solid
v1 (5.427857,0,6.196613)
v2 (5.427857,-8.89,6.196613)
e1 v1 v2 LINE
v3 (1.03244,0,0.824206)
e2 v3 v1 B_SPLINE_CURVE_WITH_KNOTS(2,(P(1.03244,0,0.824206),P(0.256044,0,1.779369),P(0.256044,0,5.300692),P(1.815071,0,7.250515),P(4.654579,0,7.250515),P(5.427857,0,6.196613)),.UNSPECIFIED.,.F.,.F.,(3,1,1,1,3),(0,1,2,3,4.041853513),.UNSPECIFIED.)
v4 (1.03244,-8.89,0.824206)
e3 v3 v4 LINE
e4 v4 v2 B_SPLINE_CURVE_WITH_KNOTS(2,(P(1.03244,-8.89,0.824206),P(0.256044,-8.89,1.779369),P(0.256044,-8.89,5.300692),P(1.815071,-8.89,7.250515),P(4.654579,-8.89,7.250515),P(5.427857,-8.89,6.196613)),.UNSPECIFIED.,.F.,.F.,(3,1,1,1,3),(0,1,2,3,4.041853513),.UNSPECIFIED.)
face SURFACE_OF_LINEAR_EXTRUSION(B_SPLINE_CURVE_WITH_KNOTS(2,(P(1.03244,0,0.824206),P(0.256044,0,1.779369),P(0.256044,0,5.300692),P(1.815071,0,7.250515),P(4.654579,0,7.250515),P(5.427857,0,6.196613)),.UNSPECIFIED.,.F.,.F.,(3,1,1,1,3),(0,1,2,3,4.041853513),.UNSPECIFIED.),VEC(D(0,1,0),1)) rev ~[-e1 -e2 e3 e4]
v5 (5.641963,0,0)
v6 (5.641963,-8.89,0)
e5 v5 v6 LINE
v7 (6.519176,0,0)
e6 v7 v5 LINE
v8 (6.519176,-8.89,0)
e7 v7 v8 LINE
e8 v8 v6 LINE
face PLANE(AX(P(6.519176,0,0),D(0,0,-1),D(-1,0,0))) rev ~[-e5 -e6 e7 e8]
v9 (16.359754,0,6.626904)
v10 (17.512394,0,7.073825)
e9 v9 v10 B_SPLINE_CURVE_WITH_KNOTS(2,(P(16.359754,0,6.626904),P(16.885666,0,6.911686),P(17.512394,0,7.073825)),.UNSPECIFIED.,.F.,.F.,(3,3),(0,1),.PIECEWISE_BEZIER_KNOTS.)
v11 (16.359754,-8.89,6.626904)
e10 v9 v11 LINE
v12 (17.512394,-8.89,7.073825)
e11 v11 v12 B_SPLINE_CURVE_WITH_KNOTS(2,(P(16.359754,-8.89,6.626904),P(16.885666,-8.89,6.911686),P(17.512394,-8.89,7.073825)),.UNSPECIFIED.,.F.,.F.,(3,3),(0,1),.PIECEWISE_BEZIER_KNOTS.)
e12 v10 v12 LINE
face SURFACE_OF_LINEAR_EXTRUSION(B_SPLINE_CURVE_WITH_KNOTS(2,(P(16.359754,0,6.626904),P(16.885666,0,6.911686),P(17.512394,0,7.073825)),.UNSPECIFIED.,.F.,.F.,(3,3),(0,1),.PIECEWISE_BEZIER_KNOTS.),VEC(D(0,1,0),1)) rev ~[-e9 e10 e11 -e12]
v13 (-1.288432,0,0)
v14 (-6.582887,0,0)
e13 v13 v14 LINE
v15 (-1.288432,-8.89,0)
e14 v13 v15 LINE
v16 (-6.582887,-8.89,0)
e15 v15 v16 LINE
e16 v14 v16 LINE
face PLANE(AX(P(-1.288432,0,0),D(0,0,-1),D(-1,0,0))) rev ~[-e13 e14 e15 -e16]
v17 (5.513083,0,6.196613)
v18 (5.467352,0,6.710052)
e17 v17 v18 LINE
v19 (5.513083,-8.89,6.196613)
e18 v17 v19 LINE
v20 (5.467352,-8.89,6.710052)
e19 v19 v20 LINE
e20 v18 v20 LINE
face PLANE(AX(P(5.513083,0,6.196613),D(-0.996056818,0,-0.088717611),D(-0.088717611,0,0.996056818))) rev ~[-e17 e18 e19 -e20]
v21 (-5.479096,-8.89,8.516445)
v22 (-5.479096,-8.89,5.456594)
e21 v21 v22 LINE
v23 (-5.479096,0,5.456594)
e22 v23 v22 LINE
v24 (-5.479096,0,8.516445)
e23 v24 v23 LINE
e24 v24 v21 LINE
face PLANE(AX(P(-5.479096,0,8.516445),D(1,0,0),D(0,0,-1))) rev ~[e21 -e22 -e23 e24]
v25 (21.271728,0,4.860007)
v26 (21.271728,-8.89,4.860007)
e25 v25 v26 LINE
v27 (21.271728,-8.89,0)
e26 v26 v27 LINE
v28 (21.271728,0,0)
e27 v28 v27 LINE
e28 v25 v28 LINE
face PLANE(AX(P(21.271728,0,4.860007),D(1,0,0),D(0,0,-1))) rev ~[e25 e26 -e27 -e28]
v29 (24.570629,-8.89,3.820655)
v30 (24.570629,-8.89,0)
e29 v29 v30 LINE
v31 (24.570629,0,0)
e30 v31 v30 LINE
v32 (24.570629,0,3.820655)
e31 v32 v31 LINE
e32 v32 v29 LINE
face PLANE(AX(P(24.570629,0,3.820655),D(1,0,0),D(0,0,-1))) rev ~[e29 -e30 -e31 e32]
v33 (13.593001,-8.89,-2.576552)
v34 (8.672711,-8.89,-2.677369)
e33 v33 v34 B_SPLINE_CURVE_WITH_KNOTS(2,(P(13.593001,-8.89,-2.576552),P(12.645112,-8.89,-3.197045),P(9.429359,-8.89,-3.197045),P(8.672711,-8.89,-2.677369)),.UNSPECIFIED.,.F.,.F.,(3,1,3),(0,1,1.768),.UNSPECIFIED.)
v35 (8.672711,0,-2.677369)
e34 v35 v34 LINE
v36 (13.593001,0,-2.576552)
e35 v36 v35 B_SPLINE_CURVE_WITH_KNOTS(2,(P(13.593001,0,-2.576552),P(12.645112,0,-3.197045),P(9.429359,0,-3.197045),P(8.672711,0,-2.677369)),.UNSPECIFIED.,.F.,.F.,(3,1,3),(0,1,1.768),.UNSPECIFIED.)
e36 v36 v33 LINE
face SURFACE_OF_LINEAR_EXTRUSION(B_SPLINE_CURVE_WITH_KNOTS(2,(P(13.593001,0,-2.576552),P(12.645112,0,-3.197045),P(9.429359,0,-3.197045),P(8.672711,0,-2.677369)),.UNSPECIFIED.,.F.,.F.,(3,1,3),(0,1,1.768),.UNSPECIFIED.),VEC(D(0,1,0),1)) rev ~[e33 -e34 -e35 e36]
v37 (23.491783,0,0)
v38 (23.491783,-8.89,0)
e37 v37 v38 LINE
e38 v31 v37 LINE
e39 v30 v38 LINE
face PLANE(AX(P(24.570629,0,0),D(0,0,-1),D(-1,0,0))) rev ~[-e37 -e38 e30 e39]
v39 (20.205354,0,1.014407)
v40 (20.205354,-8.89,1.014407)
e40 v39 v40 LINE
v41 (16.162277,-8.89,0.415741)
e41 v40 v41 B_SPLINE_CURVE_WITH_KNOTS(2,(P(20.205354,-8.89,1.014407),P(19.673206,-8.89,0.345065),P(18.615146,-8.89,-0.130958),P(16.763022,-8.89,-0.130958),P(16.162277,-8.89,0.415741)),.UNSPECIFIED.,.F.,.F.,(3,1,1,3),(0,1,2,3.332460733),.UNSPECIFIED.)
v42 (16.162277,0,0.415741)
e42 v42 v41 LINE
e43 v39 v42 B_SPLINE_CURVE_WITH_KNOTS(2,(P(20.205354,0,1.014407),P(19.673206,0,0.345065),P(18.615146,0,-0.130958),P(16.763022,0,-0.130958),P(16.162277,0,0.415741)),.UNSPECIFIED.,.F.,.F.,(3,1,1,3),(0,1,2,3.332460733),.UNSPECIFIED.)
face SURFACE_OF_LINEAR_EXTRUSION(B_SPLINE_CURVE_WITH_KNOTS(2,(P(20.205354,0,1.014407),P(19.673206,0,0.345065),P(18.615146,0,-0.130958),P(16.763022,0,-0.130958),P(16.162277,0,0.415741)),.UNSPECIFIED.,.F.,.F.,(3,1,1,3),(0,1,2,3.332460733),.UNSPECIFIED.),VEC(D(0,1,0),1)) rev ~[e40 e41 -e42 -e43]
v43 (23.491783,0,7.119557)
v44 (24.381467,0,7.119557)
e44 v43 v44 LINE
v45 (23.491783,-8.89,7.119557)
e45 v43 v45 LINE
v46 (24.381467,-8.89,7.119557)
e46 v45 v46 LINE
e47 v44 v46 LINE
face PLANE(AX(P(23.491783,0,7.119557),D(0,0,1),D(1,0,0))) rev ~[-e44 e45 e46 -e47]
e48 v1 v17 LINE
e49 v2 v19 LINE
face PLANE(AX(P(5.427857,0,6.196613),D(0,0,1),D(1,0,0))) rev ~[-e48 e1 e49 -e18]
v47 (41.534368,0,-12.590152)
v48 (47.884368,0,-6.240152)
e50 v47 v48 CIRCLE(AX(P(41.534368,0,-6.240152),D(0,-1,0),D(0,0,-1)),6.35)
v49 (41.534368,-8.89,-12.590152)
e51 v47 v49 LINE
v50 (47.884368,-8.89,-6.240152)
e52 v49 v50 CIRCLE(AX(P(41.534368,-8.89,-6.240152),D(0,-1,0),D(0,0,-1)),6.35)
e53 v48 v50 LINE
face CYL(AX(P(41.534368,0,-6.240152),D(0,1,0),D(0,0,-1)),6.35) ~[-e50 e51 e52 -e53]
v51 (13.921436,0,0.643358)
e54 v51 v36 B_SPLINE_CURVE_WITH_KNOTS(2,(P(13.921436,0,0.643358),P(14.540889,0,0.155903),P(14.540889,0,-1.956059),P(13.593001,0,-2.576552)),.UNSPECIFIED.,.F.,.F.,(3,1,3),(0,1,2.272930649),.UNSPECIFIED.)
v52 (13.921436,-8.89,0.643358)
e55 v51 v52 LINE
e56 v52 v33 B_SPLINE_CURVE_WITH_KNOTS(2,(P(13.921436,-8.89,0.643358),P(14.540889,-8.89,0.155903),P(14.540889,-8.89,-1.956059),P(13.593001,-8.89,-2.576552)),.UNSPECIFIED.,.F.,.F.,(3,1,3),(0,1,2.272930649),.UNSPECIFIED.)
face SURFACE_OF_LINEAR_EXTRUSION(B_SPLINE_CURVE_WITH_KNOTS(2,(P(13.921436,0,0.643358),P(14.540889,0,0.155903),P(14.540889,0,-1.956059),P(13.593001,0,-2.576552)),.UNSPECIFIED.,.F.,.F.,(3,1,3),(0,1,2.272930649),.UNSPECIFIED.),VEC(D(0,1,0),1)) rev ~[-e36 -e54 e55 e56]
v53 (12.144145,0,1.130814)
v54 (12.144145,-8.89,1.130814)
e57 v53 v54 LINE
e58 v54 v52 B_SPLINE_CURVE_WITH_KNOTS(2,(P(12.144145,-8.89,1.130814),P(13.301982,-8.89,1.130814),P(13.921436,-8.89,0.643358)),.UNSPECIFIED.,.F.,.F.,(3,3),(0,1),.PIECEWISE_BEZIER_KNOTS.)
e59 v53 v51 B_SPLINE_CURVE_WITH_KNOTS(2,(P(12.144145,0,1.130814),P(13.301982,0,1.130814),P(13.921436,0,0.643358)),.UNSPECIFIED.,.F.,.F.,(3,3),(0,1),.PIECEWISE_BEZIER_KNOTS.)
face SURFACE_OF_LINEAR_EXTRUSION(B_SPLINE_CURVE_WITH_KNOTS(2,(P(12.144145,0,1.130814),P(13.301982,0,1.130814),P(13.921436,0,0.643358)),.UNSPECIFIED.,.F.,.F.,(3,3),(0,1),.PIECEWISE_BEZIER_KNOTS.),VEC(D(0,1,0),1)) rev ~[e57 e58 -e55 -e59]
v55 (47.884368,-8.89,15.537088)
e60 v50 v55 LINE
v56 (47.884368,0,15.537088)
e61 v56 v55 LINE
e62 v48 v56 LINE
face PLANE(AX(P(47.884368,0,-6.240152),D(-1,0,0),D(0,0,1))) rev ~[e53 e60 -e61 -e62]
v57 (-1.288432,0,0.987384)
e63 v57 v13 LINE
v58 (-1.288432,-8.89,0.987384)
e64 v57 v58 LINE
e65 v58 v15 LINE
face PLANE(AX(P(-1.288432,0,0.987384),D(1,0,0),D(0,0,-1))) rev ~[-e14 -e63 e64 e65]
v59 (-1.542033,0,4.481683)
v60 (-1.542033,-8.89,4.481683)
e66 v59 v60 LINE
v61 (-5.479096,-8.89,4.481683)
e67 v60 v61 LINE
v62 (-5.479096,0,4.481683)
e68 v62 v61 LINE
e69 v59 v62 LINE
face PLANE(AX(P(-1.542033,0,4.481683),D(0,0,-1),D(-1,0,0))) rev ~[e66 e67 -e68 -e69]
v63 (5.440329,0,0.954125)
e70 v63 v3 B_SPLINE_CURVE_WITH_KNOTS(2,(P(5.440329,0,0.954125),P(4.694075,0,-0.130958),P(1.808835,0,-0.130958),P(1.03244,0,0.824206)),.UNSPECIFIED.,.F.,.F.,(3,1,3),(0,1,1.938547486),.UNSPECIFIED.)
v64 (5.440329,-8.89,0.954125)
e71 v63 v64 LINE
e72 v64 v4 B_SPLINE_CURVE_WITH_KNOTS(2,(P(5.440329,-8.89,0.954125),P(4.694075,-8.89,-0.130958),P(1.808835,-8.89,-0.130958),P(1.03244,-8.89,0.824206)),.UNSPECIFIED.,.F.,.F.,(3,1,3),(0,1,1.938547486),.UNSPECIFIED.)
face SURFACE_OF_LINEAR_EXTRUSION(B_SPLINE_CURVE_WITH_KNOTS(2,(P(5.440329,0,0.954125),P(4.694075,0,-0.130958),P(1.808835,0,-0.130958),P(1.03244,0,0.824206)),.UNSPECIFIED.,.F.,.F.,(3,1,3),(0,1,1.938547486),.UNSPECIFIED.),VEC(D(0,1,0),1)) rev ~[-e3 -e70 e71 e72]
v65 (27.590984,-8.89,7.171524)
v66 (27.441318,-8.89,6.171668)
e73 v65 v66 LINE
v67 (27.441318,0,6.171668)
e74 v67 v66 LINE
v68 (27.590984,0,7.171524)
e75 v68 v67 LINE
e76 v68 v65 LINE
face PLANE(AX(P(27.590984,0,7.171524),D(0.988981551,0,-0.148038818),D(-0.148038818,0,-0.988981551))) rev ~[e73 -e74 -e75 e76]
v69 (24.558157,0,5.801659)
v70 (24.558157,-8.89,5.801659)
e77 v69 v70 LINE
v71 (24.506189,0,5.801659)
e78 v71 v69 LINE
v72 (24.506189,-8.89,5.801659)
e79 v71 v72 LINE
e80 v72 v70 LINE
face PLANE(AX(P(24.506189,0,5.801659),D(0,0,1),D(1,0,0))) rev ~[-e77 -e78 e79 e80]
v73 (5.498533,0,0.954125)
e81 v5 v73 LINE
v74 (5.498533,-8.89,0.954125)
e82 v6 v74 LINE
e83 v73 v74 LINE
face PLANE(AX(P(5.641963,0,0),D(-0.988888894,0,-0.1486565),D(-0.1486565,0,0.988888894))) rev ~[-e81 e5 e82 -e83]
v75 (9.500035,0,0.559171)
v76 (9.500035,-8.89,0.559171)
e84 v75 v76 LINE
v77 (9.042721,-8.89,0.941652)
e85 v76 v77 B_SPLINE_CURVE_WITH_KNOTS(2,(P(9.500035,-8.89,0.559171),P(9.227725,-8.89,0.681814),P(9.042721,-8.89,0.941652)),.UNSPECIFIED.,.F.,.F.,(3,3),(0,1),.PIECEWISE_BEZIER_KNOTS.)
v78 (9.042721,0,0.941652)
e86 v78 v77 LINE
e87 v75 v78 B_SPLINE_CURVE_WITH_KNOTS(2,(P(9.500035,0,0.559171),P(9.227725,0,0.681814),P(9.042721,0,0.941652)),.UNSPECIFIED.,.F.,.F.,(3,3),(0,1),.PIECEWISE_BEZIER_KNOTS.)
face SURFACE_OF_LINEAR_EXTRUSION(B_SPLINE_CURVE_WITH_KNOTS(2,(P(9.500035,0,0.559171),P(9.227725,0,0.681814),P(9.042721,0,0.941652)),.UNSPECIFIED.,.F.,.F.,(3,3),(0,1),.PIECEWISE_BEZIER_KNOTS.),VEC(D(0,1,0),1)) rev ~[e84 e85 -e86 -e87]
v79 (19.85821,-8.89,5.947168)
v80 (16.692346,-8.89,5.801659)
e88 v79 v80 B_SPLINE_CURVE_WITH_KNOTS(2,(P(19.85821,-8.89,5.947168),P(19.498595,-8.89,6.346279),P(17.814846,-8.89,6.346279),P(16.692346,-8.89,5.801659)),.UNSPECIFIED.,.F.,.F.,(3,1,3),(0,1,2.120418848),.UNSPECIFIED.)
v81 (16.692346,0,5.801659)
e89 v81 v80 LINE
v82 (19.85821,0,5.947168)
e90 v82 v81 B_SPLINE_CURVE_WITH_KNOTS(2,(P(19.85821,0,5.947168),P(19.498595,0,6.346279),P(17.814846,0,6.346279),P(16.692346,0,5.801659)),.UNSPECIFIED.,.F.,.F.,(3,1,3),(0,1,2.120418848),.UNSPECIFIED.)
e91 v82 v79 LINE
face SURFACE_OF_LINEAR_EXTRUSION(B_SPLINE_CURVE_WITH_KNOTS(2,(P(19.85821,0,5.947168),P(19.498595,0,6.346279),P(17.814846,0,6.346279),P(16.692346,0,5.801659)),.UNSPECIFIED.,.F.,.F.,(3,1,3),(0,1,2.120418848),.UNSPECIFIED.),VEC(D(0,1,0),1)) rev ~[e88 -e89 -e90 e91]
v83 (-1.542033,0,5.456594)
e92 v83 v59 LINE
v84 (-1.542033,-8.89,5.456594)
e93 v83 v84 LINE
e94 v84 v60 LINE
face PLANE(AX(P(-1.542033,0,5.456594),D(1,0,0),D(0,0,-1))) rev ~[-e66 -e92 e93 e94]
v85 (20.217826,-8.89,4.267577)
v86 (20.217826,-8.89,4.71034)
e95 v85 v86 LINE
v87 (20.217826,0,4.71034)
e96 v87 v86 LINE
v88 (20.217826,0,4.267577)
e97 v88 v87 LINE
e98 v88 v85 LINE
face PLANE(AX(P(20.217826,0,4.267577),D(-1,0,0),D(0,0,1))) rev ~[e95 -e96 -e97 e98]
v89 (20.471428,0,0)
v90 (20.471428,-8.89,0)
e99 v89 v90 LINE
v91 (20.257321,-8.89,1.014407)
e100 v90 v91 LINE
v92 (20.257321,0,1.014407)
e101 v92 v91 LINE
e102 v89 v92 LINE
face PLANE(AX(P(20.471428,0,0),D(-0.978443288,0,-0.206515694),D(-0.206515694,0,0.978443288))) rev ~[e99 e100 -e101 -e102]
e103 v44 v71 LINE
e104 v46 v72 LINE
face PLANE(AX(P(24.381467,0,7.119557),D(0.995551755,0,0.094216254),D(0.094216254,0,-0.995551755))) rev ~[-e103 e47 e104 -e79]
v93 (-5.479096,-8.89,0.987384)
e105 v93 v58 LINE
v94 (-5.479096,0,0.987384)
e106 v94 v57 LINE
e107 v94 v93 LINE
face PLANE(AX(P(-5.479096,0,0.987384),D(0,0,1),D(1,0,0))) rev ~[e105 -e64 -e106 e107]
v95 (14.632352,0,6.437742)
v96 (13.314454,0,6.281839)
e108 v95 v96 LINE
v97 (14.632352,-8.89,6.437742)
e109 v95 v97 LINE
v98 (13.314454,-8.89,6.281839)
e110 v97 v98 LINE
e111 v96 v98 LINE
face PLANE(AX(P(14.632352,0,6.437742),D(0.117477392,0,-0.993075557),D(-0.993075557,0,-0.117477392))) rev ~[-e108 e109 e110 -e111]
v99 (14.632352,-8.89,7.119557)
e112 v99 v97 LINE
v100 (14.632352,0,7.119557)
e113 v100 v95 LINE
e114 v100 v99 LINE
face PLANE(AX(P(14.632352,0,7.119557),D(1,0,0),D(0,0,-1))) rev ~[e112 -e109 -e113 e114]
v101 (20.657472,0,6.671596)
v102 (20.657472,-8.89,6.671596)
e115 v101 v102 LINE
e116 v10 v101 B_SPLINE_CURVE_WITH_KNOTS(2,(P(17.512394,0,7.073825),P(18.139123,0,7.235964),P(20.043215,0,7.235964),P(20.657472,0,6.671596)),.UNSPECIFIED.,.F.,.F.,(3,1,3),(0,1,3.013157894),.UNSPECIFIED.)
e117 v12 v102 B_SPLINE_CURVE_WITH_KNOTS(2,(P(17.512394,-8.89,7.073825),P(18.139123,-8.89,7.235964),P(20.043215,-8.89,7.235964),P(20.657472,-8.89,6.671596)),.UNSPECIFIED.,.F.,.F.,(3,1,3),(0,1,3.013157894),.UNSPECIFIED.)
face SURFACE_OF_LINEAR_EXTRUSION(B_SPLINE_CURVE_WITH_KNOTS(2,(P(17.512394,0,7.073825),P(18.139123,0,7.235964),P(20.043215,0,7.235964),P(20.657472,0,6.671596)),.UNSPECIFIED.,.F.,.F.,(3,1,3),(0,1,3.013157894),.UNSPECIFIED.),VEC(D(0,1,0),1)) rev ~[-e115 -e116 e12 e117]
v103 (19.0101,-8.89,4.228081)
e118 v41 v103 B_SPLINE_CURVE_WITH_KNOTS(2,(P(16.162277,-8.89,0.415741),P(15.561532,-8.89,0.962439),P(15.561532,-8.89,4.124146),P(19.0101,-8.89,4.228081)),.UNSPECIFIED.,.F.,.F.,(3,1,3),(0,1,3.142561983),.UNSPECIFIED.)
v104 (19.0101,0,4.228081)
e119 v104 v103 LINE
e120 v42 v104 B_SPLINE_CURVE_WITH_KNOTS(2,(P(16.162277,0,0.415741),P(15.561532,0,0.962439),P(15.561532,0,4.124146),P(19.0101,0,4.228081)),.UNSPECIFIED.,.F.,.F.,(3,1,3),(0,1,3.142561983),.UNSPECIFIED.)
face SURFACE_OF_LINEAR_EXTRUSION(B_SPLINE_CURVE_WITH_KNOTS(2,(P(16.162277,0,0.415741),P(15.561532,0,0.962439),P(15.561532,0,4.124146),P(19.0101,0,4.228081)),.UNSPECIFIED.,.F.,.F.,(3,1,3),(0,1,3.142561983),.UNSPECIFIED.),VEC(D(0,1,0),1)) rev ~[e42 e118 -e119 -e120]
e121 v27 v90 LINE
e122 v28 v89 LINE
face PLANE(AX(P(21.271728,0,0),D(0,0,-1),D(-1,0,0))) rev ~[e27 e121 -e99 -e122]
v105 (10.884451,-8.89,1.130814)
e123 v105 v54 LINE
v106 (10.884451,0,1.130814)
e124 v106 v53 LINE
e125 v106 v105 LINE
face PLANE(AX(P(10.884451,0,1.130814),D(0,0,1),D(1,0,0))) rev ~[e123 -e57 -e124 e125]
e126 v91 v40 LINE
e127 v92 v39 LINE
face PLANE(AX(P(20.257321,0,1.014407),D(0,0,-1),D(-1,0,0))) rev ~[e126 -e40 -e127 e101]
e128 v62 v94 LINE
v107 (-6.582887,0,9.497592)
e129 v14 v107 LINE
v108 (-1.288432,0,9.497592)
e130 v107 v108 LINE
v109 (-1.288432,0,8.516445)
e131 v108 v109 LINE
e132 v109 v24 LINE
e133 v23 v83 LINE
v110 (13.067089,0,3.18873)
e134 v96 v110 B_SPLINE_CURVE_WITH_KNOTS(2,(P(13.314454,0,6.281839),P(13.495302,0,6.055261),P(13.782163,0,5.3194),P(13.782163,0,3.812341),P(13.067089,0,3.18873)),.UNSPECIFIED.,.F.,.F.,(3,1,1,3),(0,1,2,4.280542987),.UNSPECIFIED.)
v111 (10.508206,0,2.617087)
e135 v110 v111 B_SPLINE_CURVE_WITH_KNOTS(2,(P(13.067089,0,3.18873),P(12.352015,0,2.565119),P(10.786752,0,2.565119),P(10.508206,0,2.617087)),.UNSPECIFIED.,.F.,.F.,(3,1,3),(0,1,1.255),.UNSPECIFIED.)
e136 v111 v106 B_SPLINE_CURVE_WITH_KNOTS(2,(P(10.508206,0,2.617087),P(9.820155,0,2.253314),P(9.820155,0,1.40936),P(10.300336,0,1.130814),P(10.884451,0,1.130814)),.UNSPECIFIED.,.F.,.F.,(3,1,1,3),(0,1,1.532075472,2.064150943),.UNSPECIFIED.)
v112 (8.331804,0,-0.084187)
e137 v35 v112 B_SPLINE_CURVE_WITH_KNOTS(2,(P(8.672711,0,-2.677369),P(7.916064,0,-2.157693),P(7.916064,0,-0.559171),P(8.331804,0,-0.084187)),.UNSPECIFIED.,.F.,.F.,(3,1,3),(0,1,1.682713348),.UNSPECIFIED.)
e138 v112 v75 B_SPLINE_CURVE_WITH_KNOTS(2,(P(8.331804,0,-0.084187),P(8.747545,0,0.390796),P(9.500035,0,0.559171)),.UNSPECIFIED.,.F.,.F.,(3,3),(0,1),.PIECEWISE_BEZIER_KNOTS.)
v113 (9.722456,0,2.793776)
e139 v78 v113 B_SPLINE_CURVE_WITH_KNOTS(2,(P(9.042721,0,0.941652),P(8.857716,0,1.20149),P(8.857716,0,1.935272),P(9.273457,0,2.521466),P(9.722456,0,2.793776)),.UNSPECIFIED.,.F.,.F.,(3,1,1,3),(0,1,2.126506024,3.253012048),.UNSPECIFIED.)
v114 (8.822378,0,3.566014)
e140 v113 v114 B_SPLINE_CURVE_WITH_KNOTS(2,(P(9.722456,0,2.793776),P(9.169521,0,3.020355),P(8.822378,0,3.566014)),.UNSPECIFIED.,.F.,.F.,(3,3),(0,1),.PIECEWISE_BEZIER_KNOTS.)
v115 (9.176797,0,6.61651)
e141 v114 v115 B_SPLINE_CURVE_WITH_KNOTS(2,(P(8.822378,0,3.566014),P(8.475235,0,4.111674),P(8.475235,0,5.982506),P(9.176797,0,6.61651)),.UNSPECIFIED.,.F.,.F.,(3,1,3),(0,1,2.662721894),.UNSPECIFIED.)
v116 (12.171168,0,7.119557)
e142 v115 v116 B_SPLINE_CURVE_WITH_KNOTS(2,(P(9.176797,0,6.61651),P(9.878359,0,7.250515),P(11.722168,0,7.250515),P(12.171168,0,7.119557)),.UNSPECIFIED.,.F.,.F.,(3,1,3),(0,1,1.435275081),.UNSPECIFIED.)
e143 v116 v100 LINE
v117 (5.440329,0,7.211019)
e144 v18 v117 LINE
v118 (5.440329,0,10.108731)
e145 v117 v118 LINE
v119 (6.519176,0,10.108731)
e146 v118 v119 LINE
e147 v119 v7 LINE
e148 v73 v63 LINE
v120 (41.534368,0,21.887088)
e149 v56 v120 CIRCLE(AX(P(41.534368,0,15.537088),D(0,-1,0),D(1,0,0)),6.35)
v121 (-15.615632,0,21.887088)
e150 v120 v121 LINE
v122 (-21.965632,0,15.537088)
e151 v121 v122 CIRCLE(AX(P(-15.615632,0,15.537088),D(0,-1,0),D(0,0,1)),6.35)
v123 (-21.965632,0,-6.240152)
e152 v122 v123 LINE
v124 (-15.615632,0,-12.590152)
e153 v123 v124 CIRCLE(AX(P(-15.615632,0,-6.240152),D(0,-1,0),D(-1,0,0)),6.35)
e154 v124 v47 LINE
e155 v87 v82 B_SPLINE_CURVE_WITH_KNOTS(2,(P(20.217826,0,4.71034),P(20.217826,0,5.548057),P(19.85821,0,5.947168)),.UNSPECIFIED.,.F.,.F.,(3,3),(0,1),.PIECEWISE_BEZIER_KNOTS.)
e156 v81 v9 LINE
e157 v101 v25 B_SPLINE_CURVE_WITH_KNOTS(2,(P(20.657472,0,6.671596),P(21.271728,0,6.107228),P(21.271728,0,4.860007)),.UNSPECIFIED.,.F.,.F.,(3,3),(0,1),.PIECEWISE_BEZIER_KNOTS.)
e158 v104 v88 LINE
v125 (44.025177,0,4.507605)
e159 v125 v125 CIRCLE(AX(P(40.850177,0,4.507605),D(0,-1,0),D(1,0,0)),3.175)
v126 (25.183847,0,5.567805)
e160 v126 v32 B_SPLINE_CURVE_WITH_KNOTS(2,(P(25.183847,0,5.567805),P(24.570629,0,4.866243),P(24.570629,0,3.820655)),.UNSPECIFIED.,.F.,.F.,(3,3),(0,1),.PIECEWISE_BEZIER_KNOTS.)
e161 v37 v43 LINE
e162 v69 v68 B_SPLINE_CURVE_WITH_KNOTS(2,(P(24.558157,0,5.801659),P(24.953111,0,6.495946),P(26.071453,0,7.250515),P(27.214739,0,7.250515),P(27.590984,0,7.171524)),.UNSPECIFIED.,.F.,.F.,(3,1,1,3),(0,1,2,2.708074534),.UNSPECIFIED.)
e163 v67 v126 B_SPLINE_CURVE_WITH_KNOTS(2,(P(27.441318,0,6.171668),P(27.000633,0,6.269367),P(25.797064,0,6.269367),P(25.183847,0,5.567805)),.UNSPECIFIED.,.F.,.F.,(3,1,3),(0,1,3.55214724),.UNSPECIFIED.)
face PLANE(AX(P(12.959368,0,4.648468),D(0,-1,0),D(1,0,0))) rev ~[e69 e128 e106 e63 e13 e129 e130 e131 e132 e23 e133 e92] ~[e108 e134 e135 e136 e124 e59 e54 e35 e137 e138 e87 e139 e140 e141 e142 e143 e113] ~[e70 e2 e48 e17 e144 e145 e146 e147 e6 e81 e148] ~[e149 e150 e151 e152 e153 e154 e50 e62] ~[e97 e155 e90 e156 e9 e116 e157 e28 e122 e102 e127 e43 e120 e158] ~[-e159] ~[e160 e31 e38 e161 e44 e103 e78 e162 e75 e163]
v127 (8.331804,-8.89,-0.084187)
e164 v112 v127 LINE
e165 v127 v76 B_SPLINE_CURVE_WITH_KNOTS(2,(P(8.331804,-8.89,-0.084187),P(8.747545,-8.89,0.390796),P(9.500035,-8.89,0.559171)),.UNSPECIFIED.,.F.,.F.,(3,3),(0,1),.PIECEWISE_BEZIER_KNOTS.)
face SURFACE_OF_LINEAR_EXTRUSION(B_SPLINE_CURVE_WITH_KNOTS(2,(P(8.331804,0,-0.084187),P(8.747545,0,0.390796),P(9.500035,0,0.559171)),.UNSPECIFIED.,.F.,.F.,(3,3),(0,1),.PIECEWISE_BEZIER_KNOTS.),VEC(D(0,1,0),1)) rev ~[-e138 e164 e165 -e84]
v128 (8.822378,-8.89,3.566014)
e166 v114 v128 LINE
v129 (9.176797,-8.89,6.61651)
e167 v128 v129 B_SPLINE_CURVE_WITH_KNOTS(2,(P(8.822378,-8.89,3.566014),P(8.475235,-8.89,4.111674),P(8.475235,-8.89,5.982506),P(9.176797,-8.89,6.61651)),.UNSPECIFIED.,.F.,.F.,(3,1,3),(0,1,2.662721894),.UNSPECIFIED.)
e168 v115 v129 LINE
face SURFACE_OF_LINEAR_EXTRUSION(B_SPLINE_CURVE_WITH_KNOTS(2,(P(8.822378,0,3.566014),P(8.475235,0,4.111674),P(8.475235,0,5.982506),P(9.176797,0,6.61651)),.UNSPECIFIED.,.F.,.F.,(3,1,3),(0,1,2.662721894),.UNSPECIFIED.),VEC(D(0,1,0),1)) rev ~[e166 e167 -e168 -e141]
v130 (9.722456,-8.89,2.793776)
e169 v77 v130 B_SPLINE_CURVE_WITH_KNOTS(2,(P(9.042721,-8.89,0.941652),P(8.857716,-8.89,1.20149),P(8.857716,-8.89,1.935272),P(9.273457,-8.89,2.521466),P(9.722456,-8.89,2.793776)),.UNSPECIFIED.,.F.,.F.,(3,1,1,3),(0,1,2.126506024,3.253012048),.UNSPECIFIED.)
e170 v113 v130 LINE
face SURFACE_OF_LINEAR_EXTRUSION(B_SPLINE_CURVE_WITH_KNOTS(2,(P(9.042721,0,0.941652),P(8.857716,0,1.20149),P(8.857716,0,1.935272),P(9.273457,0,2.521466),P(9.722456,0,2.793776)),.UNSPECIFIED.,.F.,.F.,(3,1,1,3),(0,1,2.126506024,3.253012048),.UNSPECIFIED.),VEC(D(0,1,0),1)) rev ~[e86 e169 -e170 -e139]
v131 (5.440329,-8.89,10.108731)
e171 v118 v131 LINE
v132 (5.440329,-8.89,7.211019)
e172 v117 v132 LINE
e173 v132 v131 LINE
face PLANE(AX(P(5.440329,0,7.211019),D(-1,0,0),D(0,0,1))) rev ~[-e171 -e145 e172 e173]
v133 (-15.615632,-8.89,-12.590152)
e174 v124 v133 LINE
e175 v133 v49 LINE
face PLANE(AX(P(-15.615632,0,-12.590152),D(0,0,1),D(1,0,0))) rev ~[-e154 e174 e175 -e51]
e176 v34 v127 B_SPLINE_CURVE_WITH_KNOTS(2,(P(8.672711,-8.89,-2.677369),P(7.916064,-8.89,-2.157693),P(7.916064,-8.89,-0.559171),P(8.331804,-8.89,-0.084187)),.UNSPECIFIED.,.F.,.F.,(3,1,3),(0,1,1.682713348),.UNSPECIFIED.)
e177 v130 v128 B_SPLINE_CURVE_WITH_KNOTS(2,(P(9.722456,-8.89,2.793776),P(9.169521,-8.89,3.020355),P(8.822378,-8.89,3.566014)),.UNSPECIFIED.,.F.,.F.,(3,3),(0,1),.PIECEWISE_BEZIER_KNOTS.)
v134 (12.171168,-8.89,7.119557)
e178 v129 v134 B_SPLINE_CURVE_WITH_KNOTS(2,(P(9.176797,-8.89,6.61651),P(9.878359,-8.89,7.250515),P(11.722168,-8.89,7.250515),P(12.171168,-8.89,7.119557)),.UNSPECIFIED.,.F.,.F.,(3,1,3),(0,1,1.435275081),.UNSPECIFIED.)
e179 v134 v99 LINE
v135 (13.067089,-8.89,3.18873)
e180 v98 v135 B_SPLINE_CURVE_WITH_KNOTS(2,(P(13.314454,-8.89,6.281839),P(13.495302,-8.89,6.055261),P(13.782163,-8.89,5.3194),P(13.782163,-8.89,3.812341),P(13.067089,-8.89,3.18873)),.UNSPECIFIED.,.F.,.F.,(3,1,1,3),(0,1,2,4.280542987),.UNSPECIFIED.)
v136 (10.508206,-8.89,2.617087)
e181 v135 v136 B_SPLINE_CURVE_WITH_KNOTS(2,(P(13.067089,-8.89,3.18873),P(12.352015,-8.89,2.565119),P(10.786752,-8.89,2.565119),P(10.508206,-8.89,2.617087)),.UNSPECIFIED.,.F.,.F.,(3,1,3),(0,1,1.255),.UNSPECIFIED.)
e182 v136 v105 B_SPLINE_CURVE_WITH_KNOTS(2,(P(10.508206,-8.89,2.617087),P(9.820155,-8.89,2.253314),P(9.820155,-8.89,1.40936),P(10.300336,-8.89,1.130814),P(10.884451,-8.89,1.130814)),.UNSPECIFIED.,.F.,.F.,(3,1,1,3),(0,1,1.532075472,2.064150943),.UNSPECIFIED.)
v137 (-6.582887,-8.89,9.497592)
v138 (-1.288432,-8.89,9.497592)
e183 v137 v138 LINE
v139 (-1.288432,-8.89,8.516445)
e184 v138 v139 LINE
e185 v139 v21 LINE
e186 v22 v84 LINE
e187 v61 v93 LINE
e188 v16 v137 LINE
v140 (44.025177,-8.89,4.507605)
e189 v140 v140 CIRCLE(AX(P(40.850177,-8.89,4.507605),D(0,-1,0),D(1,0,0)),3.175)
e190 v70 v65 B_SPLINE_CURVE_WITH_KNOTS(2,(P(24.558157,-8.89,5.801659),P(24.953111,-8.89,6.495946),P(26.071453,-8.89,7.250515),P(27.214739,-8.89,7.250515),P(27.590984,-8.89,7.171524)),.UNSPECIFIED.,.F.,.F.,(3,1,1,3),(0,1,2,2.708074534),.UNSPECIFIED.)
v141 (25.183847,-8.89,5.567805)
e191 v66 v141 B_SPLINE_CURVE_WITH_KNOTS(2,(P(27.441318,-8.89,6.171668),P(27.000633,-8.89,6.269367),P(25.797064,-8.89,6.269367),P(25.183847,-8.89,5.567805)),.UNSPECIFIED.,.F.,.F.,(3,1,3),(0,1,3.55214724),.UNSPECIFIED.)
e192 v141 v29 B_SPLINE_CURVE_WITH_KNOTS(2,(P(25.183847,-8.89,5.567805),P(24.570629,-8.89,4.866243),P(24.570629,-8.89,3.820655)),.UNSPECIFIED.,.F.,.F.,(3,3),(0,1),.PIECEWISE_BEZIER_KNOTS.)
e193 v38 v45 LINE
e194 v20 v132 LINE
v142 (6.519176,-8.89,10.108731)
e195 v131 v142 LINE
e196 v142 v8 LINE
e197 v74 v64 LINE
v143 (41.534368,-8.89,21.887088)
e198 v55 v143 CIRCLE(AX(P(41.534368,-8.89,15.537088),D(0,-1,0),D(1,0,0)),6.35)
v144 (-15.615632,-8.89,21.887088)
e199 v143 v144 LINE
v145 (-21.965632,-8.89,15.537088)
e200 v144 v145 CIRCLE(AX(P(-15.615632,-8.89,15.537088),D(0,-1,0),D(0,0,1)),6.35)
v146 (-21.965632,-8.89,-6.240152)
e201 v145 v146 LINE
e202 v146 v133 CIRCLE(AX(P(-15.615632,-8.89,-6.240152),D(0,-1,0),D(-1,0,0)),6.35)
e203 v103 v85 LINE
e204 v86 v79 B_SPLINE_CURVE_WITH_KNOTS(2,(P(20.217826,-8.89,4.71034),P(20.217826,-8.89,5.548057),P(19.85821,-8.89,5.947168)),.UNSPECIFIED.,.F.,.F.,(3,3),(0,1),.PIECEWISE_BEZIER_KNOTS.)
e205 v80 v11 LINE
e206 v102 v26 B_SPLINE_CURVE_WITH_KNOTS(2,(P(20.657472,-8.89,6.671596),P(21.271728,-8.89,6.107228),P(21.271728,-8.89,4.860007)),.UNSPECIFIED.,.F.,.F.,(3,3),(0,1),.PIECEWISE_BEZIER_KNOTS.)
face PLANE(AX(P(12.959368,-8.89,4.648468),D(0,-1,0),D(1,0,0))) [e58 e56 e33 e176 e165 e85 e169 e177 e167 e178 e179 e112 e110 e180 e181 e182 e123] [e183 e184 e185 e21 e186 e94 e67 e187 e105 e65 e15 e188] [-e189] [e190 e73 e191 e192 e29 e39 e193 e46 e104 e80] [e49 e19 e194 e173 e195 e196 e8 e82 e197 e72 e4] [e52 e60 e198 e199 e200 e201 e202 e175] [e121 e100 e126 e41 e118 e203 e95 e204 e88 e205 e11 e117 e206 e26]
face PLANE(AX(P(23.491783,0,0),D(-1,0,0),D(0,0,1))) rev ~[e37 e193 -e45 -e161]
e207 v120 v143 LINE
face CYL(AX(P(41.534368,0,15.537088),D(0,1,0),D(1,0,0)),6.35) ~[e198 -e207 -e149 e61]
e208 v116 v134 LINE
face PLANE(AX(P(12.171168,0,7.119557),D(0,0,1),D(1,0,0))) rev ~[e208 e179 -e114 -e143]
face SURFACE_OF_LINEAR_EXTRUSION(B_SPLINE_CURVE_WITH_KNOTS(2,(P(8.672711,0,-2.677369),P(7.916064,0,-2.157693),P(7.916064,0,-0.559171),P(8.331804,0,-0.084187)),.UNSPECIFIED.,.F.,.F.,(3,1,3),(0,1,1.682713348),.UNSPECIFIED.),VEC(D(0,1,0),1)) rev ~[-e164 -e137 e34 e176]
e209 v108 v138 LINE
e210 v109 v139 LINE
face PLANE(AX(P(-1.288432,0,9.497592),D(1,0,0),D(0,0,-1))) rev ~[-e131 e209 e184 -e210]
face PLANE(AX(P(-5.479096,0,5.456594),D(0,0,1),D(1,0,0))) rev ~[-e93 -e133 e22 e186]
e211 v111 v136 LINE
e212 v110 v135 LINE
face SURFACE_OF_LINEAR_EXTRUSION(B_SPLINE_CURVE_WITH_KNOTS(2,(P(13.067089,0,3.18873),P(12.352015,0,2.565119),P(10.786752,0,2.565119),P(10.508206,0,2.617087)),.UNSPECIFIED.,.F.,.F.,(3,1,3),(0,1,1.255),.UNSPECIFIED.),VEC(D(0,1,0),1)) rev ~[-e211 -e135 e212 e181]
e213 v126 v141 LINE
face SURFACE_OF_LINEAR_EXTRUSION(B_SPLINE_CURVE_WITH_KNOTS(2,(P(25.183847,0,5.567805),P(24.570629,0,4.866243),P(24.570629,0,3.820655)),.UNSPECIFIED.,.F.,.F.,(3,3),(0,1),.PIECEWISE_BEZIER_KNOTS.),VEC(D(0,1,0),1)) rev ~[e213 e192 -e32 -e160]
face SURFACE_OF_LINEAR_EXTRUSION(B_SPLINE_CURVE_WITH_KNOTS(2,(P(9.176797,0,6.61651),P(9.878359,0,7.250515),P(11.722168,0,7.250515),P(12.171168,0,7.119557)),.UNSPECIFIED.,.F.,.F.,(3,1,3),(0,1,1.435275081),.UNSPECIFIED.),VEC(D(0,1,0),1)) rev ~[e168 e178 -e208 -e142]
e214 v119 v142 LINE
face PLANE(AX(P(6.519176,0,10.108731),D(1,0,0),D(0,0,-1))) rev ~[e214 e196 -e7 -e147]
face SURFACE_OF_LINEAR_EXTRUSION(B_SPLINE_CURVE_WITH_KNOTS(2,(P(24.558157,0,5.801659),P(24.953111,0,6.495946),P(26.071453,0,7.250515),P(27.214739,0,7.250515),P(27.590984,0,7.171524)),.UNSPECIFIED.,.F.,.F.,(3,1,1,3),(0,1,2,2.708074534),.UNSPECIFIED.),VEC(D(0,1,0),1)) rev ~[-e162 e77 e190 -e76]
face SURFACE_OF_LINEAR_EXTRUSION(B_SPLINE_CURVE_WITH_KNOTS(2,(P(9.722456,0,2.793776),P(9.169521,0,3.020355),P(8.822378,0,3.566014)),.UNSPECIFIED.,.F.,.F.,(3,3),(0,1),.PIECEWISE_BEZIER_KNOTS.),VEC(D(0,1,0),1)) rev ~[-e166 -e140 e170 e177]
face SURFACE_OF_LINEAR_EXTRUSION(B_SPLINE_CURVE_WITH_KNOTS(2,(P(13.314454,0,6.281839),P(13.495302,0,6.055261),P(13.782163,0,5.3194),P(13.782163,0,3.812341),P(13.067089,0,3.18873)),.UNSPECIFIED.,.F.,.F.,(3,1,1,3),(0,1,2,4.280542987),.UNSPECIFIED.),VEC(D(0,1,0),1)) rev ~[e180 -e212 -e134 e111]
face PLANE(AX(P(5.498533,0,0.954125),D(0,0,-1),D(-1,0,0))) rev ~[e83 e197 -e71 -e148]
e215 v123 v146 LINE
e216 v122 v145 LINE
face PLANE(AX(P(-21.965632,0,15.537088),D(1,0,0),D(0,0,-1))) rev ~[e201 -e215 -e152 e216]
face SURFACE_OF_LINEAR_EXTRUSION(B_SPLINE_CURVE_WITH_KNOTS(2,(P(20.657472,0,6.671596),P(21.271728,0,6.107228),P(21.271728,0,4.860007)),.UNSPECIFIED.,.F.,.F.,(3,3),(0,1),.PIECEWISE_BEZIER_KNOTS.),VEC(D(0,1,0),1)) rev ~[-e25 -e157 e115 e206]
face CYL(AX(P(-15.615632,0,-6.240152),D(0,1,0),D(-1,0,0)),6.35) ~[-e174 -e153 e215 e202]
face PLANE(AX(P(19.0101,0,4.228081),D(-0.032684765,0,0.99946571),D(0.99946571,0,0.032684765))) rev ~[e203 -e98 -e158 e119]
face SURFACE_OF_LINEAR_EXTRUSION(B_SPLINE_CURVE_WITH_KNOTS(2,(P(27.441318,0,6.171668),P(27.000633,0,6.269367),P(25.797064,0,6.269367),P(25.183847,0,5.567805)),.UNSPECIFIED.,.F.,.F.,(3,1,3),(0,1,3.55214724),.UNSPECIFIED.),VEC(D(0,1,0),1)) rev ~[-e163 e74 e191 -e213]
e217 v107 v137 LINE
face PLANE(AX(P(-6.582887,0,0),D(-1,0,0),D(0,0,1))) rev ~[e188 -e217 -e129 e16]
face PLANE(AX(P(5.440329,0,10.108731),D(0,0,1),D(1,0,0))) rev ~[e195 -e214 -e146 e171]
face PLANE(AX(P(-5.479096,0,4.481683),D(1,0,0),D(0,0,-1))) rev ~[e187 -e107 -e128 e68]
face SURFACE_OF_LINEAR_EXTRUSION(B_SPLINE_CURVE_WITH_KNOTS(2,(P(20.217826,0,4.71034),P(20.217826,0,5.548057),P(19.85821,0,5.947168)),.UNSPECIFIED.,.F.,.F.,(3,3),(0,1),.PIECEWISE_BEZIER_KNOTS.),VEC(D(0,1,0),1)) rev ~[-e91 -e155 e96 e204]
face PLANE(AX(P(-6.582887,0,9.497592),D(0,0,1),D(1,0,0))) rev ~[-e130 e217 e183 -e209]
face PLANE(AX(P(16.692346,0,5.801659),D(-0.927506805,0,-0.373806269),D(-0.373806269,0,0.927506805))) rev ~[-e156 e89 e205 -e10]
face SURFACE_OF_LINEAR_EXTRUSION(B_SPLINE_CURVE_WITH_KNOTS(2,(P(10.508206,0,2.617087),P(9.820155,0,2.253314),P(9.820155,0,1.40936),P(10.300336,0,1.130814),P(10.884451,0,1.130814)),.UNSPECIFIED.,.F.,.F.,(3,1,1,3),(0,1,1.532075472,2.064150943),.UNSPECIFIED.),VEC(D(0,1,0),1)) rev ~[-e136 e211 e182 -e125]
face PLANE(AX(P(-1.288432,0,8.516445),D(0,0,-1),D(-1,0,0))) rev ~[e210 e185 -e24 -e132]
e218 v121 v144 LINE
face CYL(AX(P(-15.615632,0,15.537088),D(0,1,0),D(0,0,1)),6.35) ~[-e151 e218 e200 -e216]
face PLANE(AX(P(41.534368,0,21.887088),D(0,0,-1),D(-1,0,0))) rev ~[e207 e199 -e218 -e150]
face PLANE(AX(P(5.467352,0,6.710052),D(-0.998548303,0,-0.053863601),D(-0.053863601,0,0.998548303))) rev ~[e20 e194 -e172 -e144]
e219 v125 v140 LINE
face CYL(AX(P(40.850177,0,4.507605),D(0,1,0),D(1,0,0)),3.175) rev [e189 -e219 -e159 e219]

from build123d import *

# Parameters (mm, degrees)
F0_R     = 3.175
F1_DEPTH = 8.89


with BuildPart() as f1:
    # F0 (on Front) → F1 (new body)
    with BuildSketch(Plane.XZ):
        with BuildLine():
            ThreePointArc((-21.9656324044, -6.2401519575), (-20.1057604649, -10.7302800181), (-15.6156324044, -12.5901519575))
            Line((-15.6156324044, -12.5901519575), (41.5343675956, -12.5901519575))
            ThreePointArc((41.5343675956, -12.5901519575), (46.0244956561, -10.7302800181), (47.8843675956, -6.2401519575))
            Line((47.8843675956, -6.2401519575), (47.8843675956, 15.5370884062))
            ThreePointArc((47.8843675956, 15.5370884062), (46.0244956561, 20.0272164667), (41.5343675956, 21.8870884062))
            Line((41.5343675956, 21.8870884062), (-15.6156324044, 21.8870884062))
            ThreePointArc((-15.6156324044, 21.8870884062), (-20.1057604649, 20.0272164667), (-21.9656324044, 15.5370884062))
            Line((-21.9656324044, 15.5370884062), (-21.9656324044, -6.2401519575))
        make_face()
        with BuildLine():
            Line((12.1711680144, 7.1195565384), (14.6323519389, 7.1195565384))
            Line((14.6323519389, 7.1195565384), (14.6323519389, 6.4377420729))
            Line((14.6323519389, 6.4377420729), (13.3144544658, 6.2818393749))
            add(Edge.make_bspline(
                [(13.3144544658, 6.2818393749), (13.4953015954, 6.0552607873), (13.6387320775, 5.6873304202)],
                knots=[0, 0, 0, 1, 1, 1], degree=2))
            add(Edge.make_bspline(
                [(13.6387320775, 5.6873304202), (13.7821625596, 5.3194000531), (13.7821625596, 4.8600067699)],
                knots=[0, 0, 0, 1, 1, 1], degree=2))
            add(Edge.make_bspline(
                [(13.7821625596, 4.8600067699), (13.7821625596, 3.8123406398), (13.0670888518, 3.1887298482)],
                knots=[0, 0, 0, 1, 1, 1], degree=2))
            add(Edge.make_bspline(
                [(13.0670888518, 3.1887298482), (12.352015144, 2.5651190565), (11.1047935606, 2.5651190565)],
                knots=[0, 0, 0, 1, 1, 1], degree=2))
            add(Edge.make_bspline(
                [(11.1047935606, 2.5651190565), (10.7867520569, 2.5651190565), (10.5082059032, 2.6170866224)],
                knots=[0, 0, 0, 1, 1, 1], degree=2))
            add(Edge.make_bspline(
                [(10.5082059032, 2.6170866224), (9.8201553297, 2.2533136606), (9.8201553297, 1.7024574613)],
                knots=[0, 0, 0, 1, 1, 1], degree=2))
            add(Edge.make_bspline(
                [(9.8201553297, 1.7024574613), (9.8201553297, 1.4093603892), (10.0602454845, 1.2700873124)],
                knots=[0, 0, 0, 1, 1, 1], degree=2))
            add(Edge.make_bspline(
                [(10.0602454845, 1.2700873124), (10.3003356393, 1.1308142356), (10.8844510809, 1.1308142356)],
                knots=[0, 0, 0, 1, 1, 1], degree=2))
            Line((10.8844510809, 1.1308142356), (12.1441448801, 1.1308142356))
            add(Edge.make_bspline(
                [(12.1441448801, 1.1308142356), (13.30198225, 1.1308142356), (13.9214356364, 0.6433584668)],
                knots=[0, 0, 0, 1, 1, 1], degree=2))
            add(Edge.make_bspline(
                [(13.9214356364, 0.6433584668), (14.5408890228, 0.1559026979), (14.5408890228, -0.7732773817)],
                knots=[0, 0, 0, 1, 1, 1], degree=2))
            add(Edge.make_bspline(
                [(14.5408890228, -0.7732773817), (14.5408890228, -1.9560591833), (13.5930006194, -2.576551921)],
                knots=[0, 0, 0, 1, 1, 1], degree=2))
            add(Edge.make_bspline(
                [(13.5930006194, -2.576551921), (12.6451122161, -3.1970446587), (10.826247407, -3.1970446587)],
                knots=[0, 0, 0, 1, 1, 1], degree=2))
            add(Edge.make_bspline(
                [(10.826247407, -3.1970446587), (9.4293592336, -3.1970446587), (8.672711473, -2.677368999)],
                knots=[0, 0, 0, 1, 1, 1], degree=2))
            add(Edge.make_bspline(
                [(8.672711473, -2.677368999), (7.9160637125, -2.1576933392), (7.9160637125, -1.2077262332)],
                knots=[0, 0, 0, 1, 1, 1], degree=2))
            add(Edge.make_bspline(
                [(7.9160637125, -1.2077262332), (7.9160637125, -0.5591710099), (8.3318042402, -0.0841874569)],
                knots=[0, 0, 0, 1, 1, 1], degree=2))
            add(Edge.make_bspline(
                [(8.3318042402, -0.0841874569), (8.747544768, 0.3907960961), (9.5000351233, 0.5591710099)],
                knots=[0, 0, 0, 1, 1, 1], degree=2))
            add(Edge.make_bspline(
                [(9.5000351233, 0.5591710099), (9.2277250776, 0.6818144656), (9.0427205428, 0.9416522954)],
                knots=[0, 0, 0, 1, 1, 1], degree=2))
            add(Edge.make_bspline(
                [(9.0427205428, 0.9416522954), (8.8577160079, 1.2014901253), (8.8577160079, 1.5465547634)],
                knots=[0, 0, 0, 1, 1, 1], degree=2))
            add(Edge.make_bspline(
                [(8.8577160079, 1.5465547634), (8.8577160079, 1.9352721569), (9.0655862718, 2.228369229)],
                knots=[0, 0, 0, 1, 1, 1], degree=2))
            add(Edge.make_bspline(
                [(9.0655862718, 2.228369229), (9.2734565357, 2.5214663011), (9.7224563057, 2.7937763468)],
                knots=[0, 0, 0, 1, 1, 1], degree=2))
            add(Edge.make_bspline(
                [(9.7224563057, 2.7937763468), (9.1695214037, 3.0203549344), (8.822378063, 3.5660143771)],
                knots=[0, 0, 0, 1, 1, 1], degree=2))
            add(Edge.make_bspline(
                [(8.822378063, 3.5660143771), (8.4752347223, 4.1116738199), (8.4752347223, 4.8142753118)],
                knots=[0, 0, 0, 1, 1, 1], degree=2))
            add(Edge.make_bspline(
                [(8.4752347223, 4.8142753118), (8.4752347223, 5.9825061949), (9.176796863, 6.6165104998)],
                knots=[0, 0, 0, 1, 1, 1], degree=2))
            add(Edge.make_bspline(
                [(9.176796863, 6.6165104998), (9.8783590036, 7.2505148047), (11.1629972345, 7.2505148047)],
                knots=[0, 0, 0, 1, 1, 1], degree=2))
            add(Edge.make_bspline(
                [(11.1629972345, 7.2505148047), (11.7221682444, 7.2505148047), (12.1711680144, 7.1195565384)],
                knots=[0, 0, 0, 1, 1, 1], degree=2))
        make_face(mode=Mode.SUBTRACT)
        with BuildLine():
            Line((21.2717281678, 0), (20.4714276518, 0))
            Line((20.4714276518, 0), (20.2573212799, 1.0144068878))
            Line((20.2573212799, 1.0144068878), (20.205353714, 1.0144068878))
            add(Edge.make_bspline(
                [(20.205353714, 1.0144068878), (19.6732058384, 0.3450646381), (19.1441760168, 0.1070531859)],
                knots=[0, 0, 0, 1, 1, 1], degree=2))
            add(Edge.make_bspline(
                [(19.1441760168, 0.1070531859), (18.6151461952, -0.1309582663), (17.8210817871, -0.1309582663)],
                knots=[0, 0, 0, 1, 1, 1], degree=2))
            add(Edge.make_bspline(
                [(17.8210817871, -0.1309582663), (16.7630221439, -0.1309582663), (16.1622770812, 0.4157405278)],
                knots=[0, 0, 0, 1, 1, 1], degree=2))
            add(Edge.make_bspline(
                [(16.1622770812, 0.4157405278), (15.5615320185, 0.9624393218), (15.5615320185, 1.9685313991)],
                knots=[0, 0, 0, 1, 1, 1], degree=2))
            add(Edge.make_bspline(
                [(15.5615320185, 1.9685313991), (15.5615320185, 4.1241460357), (19.0100996966, 4.2280811676)],
                knots=[0, 0, 0, 1, 1, 1], degree=2))
            Line((19.0100996966, 4.2280811676), (20.2178259298, 4.2675765178))
            Line((20.2178259298, 4.2675765178), (20.2178259298, 4.7103401799))
            add(Edge.make_bspline(
                [(20.2178259298, 4.7103401799), (20.2178259298, 5.5480573434), (19.8582103733, 5.9471682501)],
                knots=[0, 0, 0, 1, 1, 1], degree=2))
            add(Edge.make_bspline(
                [(19.8582103733, 5.9471682501), (19.4985948167, 6.3462791567), (18.7045304086, 6.3462791567)],
                knots=[0, 0, 0, 1, 1, 1], degree=2))
            add(Edge.make_bspline(
                [(18.7045304086, 6.3462791567), (17.8148456792, 6.3462791567), (16.6923462541, 5.8016590653)],
                knots=[0, 0, 0, 1, 1, 1], degree=2))
            Line((16.6923462541, 5.8016590653), (16.3597538319, 6.626904013))
            add(Edge.make_bspline(
                [(16.3597538319, 6.626904013), (16.8856655996, 6.9116862745), (17.5123944452, 7.0738250804)],
                knots=[0, 0, 0, 1, 1, 1], degree=2))
            add(Edge.make_bspline(
                [(17.5123944452, 7.0738250804), (18.1391232908, 7.2359638862), (18.7710488931, 7.2359638862)],
                knots=[0, 0, 0, 1, 1, 1], degree=2))
            add(Edge.make_bspline(
                [(18.7710488931, 7.2359638862), (20.0432149081, 7.2359638862), (20.6574715379, 6.6715961197)],
                knots=[0, 0, 0, 1, 1, 1], degree=2))
            add(Edge.make_bspline(
                [(20.6574715379, 6.6715961197), (21.2717281678, 6.1072283533), (21.2717281678, 4.8600067699)],
                knots=[0, 0, 0, 1, 1, 1], degree=2))
            Line((21.2717281678, 4.8600067699), (21.2717281678, 0))
        make_face(mode=Mode.SUBTRACT)
        with BuildLine():
            add(Edge.make_bspline(
                [(25.5122815512, 6.8732302757), (26.0714525611, 7.2505148047), (26.7407948108, 7.2505148047)],
                knots=[0, 0, 0, 1, 1, 1], degree=2))
            add(Edge.make_bspline(
                [(26.7407948108, 7.2505148047), (27.2147390125, 7.2505148047), (27.5909841902, 7.1715241044)],
                knots=[0, 0, 0, 1, 1, 1], degree=2))
            Line((27.5909841902, 7.1715241044), (27.4413176002, 6.1716681351))
            add(Edge.make_bspline(
                [(27.4413176002, 6.1716681351), (27.0006326407, 6.2693671591), (26.6618041106, 6.2693671591)],
                knots=[0, 0, 0, 1, 1, 1], degree=2))
            add(Edge.make_bspline(
                [(26.6618041106, 6.2693671591), (25.7970638128, 6.2693671591), (25.1838465343, 5.5678050184)],
                knots=[0, 0, 0, 1, 1, 1], degree=2))
            add(Edge.make_bspline(
                [(25.1838465343, 5.5678050184), (24.5706292558, 4.8662428778), (24.5706292558, 3.8206554504)],
                knots=[0, 0, 0, 1, 1, 1], degree=2))
            Line((24.5706292558, 3.8206554504), (24.5706292558, 0))
            Line((24.5706292558, 0), (23.4917825862, 0))
            Line((23.4917825862, 0), (23.4917825862, 7.1195565384))
            Line((23.4917825862, 7.1195565384), (24.3814673156, 7.1195565384))
            Line((24.3814673156, 7.1195565384), (24.506189474, 5.8016590653))
            Line((24.506189474, 5.8016590653), (24.5581570399, 5.8016590653))
            add(Edge.make_bspline(
                [(24.5581570399, 5.8016590653), (24.9531105413, 6.4959457467), (25.5122815512, 6.8732302757)],
                knots=[0, 0, 0, 1, 1, 1], degree=2))
        make_face(mode=Mode.SUBTRACT)
        with Locations((40.8501774073, 4.5076054521)):
            Circle(F0_R, mode=Mode.SUBTRACT)
        Polygon((-1.2884315729, 0.9873837535), (-1.2884315729, 0), (-6.5828871943, 0), (-6.5828871943, 9.4975923574), (-1.2884315729, 9.4975923574), (-1.2884315729, 8.5164447118), (-5.479096093, 8.5164447118), (-5.479096093, 5.4565944273), (-1.5420332948, 5.4565944273), (-1.5420332948, 4.4816828896), (-5.479096093, 4.4816828896), (-5.479096093, 0.9873837535), align=None, mode=Mode.SUBTRACT)
        with BuildLine():
            Line((5.6419630254, 0), (5.4985325433, 0.9541245113))
            Line((5.4985325433, 0.9541245113), (5.4403288695, 0.9541245113))
            add(Edge.make_bspline(
                [(5.4403288695, 0.9541245113), (4.6940746221, -0.1309582663), (3.2057235326, -0.1309582663)],
                knots=[0, 0, 0, 1, 1, 1], degree=2))
            add(Edge.make_bspline(
                [(3.2057235326, -0.1309582663), (1.8088353592, -0.1309582663), (1.0324399235, 0.8242055963)],
                knots=[0, 0, 0, 1, 1, 1], degree=2))
            add(Edge.make_bspline(
                [(1.0324399235, 0.8242055963), (0.2560444879, 1.7793694589), (0.2560444879, 3.5400305941)],
                knots=[0, 0, 0, 1, 1, 1], degree=2))
            add(Edge.make_bspline(
                [(0.2560444879, 3.5400305941), (0.2560444879, 5.3006917293), (1.0355579775, 6.275603267)],
                knots=[0, 0, 0, 1, 1, 1], degree=2))
            add(Edge.make_bspline(
                [(1.0355579775, 6.275603267), (1.8150714671, 7.2505148047), (3.2057235326, 7.2505148047)],
                knots=[0, 0, 0, 1, 1, 1], degree=2))
            add(Edge.make_bspline(
                [(3.2057235326, 7.2505148047), (4.6545792719, 7.2505148047), (5.4278566536, 6.1966125667)],
                knots=[0, 0, 0, 1, 1, 1], degree=2))
            Line((5.4278566536, 6.1966125667), (5.5130834618, 6.1966125667))
            Line((5.5130834618, 6.1966125667), (5.4673520038, 6.7100521186))
            Line((5.4673520038, 6.7100521186), (5.4403288695, 7.2110194545))
            Line((5.4403288695, 7.2110194545), (5.4403288695, 10.1087309332))
            Line((5.4403288695, 10.1087309332), (6.5191755391, 10.1087309332))
            Line((6.5191755391, 10.1087309332), (6.5191755391, 0))
            Line((6.5191755391, 0), (5.6419630254, 0))
        make_face(mode=Mode.SUBTRACT)
    extrude(amount=F1_DEPTH)


solid = f1.part
